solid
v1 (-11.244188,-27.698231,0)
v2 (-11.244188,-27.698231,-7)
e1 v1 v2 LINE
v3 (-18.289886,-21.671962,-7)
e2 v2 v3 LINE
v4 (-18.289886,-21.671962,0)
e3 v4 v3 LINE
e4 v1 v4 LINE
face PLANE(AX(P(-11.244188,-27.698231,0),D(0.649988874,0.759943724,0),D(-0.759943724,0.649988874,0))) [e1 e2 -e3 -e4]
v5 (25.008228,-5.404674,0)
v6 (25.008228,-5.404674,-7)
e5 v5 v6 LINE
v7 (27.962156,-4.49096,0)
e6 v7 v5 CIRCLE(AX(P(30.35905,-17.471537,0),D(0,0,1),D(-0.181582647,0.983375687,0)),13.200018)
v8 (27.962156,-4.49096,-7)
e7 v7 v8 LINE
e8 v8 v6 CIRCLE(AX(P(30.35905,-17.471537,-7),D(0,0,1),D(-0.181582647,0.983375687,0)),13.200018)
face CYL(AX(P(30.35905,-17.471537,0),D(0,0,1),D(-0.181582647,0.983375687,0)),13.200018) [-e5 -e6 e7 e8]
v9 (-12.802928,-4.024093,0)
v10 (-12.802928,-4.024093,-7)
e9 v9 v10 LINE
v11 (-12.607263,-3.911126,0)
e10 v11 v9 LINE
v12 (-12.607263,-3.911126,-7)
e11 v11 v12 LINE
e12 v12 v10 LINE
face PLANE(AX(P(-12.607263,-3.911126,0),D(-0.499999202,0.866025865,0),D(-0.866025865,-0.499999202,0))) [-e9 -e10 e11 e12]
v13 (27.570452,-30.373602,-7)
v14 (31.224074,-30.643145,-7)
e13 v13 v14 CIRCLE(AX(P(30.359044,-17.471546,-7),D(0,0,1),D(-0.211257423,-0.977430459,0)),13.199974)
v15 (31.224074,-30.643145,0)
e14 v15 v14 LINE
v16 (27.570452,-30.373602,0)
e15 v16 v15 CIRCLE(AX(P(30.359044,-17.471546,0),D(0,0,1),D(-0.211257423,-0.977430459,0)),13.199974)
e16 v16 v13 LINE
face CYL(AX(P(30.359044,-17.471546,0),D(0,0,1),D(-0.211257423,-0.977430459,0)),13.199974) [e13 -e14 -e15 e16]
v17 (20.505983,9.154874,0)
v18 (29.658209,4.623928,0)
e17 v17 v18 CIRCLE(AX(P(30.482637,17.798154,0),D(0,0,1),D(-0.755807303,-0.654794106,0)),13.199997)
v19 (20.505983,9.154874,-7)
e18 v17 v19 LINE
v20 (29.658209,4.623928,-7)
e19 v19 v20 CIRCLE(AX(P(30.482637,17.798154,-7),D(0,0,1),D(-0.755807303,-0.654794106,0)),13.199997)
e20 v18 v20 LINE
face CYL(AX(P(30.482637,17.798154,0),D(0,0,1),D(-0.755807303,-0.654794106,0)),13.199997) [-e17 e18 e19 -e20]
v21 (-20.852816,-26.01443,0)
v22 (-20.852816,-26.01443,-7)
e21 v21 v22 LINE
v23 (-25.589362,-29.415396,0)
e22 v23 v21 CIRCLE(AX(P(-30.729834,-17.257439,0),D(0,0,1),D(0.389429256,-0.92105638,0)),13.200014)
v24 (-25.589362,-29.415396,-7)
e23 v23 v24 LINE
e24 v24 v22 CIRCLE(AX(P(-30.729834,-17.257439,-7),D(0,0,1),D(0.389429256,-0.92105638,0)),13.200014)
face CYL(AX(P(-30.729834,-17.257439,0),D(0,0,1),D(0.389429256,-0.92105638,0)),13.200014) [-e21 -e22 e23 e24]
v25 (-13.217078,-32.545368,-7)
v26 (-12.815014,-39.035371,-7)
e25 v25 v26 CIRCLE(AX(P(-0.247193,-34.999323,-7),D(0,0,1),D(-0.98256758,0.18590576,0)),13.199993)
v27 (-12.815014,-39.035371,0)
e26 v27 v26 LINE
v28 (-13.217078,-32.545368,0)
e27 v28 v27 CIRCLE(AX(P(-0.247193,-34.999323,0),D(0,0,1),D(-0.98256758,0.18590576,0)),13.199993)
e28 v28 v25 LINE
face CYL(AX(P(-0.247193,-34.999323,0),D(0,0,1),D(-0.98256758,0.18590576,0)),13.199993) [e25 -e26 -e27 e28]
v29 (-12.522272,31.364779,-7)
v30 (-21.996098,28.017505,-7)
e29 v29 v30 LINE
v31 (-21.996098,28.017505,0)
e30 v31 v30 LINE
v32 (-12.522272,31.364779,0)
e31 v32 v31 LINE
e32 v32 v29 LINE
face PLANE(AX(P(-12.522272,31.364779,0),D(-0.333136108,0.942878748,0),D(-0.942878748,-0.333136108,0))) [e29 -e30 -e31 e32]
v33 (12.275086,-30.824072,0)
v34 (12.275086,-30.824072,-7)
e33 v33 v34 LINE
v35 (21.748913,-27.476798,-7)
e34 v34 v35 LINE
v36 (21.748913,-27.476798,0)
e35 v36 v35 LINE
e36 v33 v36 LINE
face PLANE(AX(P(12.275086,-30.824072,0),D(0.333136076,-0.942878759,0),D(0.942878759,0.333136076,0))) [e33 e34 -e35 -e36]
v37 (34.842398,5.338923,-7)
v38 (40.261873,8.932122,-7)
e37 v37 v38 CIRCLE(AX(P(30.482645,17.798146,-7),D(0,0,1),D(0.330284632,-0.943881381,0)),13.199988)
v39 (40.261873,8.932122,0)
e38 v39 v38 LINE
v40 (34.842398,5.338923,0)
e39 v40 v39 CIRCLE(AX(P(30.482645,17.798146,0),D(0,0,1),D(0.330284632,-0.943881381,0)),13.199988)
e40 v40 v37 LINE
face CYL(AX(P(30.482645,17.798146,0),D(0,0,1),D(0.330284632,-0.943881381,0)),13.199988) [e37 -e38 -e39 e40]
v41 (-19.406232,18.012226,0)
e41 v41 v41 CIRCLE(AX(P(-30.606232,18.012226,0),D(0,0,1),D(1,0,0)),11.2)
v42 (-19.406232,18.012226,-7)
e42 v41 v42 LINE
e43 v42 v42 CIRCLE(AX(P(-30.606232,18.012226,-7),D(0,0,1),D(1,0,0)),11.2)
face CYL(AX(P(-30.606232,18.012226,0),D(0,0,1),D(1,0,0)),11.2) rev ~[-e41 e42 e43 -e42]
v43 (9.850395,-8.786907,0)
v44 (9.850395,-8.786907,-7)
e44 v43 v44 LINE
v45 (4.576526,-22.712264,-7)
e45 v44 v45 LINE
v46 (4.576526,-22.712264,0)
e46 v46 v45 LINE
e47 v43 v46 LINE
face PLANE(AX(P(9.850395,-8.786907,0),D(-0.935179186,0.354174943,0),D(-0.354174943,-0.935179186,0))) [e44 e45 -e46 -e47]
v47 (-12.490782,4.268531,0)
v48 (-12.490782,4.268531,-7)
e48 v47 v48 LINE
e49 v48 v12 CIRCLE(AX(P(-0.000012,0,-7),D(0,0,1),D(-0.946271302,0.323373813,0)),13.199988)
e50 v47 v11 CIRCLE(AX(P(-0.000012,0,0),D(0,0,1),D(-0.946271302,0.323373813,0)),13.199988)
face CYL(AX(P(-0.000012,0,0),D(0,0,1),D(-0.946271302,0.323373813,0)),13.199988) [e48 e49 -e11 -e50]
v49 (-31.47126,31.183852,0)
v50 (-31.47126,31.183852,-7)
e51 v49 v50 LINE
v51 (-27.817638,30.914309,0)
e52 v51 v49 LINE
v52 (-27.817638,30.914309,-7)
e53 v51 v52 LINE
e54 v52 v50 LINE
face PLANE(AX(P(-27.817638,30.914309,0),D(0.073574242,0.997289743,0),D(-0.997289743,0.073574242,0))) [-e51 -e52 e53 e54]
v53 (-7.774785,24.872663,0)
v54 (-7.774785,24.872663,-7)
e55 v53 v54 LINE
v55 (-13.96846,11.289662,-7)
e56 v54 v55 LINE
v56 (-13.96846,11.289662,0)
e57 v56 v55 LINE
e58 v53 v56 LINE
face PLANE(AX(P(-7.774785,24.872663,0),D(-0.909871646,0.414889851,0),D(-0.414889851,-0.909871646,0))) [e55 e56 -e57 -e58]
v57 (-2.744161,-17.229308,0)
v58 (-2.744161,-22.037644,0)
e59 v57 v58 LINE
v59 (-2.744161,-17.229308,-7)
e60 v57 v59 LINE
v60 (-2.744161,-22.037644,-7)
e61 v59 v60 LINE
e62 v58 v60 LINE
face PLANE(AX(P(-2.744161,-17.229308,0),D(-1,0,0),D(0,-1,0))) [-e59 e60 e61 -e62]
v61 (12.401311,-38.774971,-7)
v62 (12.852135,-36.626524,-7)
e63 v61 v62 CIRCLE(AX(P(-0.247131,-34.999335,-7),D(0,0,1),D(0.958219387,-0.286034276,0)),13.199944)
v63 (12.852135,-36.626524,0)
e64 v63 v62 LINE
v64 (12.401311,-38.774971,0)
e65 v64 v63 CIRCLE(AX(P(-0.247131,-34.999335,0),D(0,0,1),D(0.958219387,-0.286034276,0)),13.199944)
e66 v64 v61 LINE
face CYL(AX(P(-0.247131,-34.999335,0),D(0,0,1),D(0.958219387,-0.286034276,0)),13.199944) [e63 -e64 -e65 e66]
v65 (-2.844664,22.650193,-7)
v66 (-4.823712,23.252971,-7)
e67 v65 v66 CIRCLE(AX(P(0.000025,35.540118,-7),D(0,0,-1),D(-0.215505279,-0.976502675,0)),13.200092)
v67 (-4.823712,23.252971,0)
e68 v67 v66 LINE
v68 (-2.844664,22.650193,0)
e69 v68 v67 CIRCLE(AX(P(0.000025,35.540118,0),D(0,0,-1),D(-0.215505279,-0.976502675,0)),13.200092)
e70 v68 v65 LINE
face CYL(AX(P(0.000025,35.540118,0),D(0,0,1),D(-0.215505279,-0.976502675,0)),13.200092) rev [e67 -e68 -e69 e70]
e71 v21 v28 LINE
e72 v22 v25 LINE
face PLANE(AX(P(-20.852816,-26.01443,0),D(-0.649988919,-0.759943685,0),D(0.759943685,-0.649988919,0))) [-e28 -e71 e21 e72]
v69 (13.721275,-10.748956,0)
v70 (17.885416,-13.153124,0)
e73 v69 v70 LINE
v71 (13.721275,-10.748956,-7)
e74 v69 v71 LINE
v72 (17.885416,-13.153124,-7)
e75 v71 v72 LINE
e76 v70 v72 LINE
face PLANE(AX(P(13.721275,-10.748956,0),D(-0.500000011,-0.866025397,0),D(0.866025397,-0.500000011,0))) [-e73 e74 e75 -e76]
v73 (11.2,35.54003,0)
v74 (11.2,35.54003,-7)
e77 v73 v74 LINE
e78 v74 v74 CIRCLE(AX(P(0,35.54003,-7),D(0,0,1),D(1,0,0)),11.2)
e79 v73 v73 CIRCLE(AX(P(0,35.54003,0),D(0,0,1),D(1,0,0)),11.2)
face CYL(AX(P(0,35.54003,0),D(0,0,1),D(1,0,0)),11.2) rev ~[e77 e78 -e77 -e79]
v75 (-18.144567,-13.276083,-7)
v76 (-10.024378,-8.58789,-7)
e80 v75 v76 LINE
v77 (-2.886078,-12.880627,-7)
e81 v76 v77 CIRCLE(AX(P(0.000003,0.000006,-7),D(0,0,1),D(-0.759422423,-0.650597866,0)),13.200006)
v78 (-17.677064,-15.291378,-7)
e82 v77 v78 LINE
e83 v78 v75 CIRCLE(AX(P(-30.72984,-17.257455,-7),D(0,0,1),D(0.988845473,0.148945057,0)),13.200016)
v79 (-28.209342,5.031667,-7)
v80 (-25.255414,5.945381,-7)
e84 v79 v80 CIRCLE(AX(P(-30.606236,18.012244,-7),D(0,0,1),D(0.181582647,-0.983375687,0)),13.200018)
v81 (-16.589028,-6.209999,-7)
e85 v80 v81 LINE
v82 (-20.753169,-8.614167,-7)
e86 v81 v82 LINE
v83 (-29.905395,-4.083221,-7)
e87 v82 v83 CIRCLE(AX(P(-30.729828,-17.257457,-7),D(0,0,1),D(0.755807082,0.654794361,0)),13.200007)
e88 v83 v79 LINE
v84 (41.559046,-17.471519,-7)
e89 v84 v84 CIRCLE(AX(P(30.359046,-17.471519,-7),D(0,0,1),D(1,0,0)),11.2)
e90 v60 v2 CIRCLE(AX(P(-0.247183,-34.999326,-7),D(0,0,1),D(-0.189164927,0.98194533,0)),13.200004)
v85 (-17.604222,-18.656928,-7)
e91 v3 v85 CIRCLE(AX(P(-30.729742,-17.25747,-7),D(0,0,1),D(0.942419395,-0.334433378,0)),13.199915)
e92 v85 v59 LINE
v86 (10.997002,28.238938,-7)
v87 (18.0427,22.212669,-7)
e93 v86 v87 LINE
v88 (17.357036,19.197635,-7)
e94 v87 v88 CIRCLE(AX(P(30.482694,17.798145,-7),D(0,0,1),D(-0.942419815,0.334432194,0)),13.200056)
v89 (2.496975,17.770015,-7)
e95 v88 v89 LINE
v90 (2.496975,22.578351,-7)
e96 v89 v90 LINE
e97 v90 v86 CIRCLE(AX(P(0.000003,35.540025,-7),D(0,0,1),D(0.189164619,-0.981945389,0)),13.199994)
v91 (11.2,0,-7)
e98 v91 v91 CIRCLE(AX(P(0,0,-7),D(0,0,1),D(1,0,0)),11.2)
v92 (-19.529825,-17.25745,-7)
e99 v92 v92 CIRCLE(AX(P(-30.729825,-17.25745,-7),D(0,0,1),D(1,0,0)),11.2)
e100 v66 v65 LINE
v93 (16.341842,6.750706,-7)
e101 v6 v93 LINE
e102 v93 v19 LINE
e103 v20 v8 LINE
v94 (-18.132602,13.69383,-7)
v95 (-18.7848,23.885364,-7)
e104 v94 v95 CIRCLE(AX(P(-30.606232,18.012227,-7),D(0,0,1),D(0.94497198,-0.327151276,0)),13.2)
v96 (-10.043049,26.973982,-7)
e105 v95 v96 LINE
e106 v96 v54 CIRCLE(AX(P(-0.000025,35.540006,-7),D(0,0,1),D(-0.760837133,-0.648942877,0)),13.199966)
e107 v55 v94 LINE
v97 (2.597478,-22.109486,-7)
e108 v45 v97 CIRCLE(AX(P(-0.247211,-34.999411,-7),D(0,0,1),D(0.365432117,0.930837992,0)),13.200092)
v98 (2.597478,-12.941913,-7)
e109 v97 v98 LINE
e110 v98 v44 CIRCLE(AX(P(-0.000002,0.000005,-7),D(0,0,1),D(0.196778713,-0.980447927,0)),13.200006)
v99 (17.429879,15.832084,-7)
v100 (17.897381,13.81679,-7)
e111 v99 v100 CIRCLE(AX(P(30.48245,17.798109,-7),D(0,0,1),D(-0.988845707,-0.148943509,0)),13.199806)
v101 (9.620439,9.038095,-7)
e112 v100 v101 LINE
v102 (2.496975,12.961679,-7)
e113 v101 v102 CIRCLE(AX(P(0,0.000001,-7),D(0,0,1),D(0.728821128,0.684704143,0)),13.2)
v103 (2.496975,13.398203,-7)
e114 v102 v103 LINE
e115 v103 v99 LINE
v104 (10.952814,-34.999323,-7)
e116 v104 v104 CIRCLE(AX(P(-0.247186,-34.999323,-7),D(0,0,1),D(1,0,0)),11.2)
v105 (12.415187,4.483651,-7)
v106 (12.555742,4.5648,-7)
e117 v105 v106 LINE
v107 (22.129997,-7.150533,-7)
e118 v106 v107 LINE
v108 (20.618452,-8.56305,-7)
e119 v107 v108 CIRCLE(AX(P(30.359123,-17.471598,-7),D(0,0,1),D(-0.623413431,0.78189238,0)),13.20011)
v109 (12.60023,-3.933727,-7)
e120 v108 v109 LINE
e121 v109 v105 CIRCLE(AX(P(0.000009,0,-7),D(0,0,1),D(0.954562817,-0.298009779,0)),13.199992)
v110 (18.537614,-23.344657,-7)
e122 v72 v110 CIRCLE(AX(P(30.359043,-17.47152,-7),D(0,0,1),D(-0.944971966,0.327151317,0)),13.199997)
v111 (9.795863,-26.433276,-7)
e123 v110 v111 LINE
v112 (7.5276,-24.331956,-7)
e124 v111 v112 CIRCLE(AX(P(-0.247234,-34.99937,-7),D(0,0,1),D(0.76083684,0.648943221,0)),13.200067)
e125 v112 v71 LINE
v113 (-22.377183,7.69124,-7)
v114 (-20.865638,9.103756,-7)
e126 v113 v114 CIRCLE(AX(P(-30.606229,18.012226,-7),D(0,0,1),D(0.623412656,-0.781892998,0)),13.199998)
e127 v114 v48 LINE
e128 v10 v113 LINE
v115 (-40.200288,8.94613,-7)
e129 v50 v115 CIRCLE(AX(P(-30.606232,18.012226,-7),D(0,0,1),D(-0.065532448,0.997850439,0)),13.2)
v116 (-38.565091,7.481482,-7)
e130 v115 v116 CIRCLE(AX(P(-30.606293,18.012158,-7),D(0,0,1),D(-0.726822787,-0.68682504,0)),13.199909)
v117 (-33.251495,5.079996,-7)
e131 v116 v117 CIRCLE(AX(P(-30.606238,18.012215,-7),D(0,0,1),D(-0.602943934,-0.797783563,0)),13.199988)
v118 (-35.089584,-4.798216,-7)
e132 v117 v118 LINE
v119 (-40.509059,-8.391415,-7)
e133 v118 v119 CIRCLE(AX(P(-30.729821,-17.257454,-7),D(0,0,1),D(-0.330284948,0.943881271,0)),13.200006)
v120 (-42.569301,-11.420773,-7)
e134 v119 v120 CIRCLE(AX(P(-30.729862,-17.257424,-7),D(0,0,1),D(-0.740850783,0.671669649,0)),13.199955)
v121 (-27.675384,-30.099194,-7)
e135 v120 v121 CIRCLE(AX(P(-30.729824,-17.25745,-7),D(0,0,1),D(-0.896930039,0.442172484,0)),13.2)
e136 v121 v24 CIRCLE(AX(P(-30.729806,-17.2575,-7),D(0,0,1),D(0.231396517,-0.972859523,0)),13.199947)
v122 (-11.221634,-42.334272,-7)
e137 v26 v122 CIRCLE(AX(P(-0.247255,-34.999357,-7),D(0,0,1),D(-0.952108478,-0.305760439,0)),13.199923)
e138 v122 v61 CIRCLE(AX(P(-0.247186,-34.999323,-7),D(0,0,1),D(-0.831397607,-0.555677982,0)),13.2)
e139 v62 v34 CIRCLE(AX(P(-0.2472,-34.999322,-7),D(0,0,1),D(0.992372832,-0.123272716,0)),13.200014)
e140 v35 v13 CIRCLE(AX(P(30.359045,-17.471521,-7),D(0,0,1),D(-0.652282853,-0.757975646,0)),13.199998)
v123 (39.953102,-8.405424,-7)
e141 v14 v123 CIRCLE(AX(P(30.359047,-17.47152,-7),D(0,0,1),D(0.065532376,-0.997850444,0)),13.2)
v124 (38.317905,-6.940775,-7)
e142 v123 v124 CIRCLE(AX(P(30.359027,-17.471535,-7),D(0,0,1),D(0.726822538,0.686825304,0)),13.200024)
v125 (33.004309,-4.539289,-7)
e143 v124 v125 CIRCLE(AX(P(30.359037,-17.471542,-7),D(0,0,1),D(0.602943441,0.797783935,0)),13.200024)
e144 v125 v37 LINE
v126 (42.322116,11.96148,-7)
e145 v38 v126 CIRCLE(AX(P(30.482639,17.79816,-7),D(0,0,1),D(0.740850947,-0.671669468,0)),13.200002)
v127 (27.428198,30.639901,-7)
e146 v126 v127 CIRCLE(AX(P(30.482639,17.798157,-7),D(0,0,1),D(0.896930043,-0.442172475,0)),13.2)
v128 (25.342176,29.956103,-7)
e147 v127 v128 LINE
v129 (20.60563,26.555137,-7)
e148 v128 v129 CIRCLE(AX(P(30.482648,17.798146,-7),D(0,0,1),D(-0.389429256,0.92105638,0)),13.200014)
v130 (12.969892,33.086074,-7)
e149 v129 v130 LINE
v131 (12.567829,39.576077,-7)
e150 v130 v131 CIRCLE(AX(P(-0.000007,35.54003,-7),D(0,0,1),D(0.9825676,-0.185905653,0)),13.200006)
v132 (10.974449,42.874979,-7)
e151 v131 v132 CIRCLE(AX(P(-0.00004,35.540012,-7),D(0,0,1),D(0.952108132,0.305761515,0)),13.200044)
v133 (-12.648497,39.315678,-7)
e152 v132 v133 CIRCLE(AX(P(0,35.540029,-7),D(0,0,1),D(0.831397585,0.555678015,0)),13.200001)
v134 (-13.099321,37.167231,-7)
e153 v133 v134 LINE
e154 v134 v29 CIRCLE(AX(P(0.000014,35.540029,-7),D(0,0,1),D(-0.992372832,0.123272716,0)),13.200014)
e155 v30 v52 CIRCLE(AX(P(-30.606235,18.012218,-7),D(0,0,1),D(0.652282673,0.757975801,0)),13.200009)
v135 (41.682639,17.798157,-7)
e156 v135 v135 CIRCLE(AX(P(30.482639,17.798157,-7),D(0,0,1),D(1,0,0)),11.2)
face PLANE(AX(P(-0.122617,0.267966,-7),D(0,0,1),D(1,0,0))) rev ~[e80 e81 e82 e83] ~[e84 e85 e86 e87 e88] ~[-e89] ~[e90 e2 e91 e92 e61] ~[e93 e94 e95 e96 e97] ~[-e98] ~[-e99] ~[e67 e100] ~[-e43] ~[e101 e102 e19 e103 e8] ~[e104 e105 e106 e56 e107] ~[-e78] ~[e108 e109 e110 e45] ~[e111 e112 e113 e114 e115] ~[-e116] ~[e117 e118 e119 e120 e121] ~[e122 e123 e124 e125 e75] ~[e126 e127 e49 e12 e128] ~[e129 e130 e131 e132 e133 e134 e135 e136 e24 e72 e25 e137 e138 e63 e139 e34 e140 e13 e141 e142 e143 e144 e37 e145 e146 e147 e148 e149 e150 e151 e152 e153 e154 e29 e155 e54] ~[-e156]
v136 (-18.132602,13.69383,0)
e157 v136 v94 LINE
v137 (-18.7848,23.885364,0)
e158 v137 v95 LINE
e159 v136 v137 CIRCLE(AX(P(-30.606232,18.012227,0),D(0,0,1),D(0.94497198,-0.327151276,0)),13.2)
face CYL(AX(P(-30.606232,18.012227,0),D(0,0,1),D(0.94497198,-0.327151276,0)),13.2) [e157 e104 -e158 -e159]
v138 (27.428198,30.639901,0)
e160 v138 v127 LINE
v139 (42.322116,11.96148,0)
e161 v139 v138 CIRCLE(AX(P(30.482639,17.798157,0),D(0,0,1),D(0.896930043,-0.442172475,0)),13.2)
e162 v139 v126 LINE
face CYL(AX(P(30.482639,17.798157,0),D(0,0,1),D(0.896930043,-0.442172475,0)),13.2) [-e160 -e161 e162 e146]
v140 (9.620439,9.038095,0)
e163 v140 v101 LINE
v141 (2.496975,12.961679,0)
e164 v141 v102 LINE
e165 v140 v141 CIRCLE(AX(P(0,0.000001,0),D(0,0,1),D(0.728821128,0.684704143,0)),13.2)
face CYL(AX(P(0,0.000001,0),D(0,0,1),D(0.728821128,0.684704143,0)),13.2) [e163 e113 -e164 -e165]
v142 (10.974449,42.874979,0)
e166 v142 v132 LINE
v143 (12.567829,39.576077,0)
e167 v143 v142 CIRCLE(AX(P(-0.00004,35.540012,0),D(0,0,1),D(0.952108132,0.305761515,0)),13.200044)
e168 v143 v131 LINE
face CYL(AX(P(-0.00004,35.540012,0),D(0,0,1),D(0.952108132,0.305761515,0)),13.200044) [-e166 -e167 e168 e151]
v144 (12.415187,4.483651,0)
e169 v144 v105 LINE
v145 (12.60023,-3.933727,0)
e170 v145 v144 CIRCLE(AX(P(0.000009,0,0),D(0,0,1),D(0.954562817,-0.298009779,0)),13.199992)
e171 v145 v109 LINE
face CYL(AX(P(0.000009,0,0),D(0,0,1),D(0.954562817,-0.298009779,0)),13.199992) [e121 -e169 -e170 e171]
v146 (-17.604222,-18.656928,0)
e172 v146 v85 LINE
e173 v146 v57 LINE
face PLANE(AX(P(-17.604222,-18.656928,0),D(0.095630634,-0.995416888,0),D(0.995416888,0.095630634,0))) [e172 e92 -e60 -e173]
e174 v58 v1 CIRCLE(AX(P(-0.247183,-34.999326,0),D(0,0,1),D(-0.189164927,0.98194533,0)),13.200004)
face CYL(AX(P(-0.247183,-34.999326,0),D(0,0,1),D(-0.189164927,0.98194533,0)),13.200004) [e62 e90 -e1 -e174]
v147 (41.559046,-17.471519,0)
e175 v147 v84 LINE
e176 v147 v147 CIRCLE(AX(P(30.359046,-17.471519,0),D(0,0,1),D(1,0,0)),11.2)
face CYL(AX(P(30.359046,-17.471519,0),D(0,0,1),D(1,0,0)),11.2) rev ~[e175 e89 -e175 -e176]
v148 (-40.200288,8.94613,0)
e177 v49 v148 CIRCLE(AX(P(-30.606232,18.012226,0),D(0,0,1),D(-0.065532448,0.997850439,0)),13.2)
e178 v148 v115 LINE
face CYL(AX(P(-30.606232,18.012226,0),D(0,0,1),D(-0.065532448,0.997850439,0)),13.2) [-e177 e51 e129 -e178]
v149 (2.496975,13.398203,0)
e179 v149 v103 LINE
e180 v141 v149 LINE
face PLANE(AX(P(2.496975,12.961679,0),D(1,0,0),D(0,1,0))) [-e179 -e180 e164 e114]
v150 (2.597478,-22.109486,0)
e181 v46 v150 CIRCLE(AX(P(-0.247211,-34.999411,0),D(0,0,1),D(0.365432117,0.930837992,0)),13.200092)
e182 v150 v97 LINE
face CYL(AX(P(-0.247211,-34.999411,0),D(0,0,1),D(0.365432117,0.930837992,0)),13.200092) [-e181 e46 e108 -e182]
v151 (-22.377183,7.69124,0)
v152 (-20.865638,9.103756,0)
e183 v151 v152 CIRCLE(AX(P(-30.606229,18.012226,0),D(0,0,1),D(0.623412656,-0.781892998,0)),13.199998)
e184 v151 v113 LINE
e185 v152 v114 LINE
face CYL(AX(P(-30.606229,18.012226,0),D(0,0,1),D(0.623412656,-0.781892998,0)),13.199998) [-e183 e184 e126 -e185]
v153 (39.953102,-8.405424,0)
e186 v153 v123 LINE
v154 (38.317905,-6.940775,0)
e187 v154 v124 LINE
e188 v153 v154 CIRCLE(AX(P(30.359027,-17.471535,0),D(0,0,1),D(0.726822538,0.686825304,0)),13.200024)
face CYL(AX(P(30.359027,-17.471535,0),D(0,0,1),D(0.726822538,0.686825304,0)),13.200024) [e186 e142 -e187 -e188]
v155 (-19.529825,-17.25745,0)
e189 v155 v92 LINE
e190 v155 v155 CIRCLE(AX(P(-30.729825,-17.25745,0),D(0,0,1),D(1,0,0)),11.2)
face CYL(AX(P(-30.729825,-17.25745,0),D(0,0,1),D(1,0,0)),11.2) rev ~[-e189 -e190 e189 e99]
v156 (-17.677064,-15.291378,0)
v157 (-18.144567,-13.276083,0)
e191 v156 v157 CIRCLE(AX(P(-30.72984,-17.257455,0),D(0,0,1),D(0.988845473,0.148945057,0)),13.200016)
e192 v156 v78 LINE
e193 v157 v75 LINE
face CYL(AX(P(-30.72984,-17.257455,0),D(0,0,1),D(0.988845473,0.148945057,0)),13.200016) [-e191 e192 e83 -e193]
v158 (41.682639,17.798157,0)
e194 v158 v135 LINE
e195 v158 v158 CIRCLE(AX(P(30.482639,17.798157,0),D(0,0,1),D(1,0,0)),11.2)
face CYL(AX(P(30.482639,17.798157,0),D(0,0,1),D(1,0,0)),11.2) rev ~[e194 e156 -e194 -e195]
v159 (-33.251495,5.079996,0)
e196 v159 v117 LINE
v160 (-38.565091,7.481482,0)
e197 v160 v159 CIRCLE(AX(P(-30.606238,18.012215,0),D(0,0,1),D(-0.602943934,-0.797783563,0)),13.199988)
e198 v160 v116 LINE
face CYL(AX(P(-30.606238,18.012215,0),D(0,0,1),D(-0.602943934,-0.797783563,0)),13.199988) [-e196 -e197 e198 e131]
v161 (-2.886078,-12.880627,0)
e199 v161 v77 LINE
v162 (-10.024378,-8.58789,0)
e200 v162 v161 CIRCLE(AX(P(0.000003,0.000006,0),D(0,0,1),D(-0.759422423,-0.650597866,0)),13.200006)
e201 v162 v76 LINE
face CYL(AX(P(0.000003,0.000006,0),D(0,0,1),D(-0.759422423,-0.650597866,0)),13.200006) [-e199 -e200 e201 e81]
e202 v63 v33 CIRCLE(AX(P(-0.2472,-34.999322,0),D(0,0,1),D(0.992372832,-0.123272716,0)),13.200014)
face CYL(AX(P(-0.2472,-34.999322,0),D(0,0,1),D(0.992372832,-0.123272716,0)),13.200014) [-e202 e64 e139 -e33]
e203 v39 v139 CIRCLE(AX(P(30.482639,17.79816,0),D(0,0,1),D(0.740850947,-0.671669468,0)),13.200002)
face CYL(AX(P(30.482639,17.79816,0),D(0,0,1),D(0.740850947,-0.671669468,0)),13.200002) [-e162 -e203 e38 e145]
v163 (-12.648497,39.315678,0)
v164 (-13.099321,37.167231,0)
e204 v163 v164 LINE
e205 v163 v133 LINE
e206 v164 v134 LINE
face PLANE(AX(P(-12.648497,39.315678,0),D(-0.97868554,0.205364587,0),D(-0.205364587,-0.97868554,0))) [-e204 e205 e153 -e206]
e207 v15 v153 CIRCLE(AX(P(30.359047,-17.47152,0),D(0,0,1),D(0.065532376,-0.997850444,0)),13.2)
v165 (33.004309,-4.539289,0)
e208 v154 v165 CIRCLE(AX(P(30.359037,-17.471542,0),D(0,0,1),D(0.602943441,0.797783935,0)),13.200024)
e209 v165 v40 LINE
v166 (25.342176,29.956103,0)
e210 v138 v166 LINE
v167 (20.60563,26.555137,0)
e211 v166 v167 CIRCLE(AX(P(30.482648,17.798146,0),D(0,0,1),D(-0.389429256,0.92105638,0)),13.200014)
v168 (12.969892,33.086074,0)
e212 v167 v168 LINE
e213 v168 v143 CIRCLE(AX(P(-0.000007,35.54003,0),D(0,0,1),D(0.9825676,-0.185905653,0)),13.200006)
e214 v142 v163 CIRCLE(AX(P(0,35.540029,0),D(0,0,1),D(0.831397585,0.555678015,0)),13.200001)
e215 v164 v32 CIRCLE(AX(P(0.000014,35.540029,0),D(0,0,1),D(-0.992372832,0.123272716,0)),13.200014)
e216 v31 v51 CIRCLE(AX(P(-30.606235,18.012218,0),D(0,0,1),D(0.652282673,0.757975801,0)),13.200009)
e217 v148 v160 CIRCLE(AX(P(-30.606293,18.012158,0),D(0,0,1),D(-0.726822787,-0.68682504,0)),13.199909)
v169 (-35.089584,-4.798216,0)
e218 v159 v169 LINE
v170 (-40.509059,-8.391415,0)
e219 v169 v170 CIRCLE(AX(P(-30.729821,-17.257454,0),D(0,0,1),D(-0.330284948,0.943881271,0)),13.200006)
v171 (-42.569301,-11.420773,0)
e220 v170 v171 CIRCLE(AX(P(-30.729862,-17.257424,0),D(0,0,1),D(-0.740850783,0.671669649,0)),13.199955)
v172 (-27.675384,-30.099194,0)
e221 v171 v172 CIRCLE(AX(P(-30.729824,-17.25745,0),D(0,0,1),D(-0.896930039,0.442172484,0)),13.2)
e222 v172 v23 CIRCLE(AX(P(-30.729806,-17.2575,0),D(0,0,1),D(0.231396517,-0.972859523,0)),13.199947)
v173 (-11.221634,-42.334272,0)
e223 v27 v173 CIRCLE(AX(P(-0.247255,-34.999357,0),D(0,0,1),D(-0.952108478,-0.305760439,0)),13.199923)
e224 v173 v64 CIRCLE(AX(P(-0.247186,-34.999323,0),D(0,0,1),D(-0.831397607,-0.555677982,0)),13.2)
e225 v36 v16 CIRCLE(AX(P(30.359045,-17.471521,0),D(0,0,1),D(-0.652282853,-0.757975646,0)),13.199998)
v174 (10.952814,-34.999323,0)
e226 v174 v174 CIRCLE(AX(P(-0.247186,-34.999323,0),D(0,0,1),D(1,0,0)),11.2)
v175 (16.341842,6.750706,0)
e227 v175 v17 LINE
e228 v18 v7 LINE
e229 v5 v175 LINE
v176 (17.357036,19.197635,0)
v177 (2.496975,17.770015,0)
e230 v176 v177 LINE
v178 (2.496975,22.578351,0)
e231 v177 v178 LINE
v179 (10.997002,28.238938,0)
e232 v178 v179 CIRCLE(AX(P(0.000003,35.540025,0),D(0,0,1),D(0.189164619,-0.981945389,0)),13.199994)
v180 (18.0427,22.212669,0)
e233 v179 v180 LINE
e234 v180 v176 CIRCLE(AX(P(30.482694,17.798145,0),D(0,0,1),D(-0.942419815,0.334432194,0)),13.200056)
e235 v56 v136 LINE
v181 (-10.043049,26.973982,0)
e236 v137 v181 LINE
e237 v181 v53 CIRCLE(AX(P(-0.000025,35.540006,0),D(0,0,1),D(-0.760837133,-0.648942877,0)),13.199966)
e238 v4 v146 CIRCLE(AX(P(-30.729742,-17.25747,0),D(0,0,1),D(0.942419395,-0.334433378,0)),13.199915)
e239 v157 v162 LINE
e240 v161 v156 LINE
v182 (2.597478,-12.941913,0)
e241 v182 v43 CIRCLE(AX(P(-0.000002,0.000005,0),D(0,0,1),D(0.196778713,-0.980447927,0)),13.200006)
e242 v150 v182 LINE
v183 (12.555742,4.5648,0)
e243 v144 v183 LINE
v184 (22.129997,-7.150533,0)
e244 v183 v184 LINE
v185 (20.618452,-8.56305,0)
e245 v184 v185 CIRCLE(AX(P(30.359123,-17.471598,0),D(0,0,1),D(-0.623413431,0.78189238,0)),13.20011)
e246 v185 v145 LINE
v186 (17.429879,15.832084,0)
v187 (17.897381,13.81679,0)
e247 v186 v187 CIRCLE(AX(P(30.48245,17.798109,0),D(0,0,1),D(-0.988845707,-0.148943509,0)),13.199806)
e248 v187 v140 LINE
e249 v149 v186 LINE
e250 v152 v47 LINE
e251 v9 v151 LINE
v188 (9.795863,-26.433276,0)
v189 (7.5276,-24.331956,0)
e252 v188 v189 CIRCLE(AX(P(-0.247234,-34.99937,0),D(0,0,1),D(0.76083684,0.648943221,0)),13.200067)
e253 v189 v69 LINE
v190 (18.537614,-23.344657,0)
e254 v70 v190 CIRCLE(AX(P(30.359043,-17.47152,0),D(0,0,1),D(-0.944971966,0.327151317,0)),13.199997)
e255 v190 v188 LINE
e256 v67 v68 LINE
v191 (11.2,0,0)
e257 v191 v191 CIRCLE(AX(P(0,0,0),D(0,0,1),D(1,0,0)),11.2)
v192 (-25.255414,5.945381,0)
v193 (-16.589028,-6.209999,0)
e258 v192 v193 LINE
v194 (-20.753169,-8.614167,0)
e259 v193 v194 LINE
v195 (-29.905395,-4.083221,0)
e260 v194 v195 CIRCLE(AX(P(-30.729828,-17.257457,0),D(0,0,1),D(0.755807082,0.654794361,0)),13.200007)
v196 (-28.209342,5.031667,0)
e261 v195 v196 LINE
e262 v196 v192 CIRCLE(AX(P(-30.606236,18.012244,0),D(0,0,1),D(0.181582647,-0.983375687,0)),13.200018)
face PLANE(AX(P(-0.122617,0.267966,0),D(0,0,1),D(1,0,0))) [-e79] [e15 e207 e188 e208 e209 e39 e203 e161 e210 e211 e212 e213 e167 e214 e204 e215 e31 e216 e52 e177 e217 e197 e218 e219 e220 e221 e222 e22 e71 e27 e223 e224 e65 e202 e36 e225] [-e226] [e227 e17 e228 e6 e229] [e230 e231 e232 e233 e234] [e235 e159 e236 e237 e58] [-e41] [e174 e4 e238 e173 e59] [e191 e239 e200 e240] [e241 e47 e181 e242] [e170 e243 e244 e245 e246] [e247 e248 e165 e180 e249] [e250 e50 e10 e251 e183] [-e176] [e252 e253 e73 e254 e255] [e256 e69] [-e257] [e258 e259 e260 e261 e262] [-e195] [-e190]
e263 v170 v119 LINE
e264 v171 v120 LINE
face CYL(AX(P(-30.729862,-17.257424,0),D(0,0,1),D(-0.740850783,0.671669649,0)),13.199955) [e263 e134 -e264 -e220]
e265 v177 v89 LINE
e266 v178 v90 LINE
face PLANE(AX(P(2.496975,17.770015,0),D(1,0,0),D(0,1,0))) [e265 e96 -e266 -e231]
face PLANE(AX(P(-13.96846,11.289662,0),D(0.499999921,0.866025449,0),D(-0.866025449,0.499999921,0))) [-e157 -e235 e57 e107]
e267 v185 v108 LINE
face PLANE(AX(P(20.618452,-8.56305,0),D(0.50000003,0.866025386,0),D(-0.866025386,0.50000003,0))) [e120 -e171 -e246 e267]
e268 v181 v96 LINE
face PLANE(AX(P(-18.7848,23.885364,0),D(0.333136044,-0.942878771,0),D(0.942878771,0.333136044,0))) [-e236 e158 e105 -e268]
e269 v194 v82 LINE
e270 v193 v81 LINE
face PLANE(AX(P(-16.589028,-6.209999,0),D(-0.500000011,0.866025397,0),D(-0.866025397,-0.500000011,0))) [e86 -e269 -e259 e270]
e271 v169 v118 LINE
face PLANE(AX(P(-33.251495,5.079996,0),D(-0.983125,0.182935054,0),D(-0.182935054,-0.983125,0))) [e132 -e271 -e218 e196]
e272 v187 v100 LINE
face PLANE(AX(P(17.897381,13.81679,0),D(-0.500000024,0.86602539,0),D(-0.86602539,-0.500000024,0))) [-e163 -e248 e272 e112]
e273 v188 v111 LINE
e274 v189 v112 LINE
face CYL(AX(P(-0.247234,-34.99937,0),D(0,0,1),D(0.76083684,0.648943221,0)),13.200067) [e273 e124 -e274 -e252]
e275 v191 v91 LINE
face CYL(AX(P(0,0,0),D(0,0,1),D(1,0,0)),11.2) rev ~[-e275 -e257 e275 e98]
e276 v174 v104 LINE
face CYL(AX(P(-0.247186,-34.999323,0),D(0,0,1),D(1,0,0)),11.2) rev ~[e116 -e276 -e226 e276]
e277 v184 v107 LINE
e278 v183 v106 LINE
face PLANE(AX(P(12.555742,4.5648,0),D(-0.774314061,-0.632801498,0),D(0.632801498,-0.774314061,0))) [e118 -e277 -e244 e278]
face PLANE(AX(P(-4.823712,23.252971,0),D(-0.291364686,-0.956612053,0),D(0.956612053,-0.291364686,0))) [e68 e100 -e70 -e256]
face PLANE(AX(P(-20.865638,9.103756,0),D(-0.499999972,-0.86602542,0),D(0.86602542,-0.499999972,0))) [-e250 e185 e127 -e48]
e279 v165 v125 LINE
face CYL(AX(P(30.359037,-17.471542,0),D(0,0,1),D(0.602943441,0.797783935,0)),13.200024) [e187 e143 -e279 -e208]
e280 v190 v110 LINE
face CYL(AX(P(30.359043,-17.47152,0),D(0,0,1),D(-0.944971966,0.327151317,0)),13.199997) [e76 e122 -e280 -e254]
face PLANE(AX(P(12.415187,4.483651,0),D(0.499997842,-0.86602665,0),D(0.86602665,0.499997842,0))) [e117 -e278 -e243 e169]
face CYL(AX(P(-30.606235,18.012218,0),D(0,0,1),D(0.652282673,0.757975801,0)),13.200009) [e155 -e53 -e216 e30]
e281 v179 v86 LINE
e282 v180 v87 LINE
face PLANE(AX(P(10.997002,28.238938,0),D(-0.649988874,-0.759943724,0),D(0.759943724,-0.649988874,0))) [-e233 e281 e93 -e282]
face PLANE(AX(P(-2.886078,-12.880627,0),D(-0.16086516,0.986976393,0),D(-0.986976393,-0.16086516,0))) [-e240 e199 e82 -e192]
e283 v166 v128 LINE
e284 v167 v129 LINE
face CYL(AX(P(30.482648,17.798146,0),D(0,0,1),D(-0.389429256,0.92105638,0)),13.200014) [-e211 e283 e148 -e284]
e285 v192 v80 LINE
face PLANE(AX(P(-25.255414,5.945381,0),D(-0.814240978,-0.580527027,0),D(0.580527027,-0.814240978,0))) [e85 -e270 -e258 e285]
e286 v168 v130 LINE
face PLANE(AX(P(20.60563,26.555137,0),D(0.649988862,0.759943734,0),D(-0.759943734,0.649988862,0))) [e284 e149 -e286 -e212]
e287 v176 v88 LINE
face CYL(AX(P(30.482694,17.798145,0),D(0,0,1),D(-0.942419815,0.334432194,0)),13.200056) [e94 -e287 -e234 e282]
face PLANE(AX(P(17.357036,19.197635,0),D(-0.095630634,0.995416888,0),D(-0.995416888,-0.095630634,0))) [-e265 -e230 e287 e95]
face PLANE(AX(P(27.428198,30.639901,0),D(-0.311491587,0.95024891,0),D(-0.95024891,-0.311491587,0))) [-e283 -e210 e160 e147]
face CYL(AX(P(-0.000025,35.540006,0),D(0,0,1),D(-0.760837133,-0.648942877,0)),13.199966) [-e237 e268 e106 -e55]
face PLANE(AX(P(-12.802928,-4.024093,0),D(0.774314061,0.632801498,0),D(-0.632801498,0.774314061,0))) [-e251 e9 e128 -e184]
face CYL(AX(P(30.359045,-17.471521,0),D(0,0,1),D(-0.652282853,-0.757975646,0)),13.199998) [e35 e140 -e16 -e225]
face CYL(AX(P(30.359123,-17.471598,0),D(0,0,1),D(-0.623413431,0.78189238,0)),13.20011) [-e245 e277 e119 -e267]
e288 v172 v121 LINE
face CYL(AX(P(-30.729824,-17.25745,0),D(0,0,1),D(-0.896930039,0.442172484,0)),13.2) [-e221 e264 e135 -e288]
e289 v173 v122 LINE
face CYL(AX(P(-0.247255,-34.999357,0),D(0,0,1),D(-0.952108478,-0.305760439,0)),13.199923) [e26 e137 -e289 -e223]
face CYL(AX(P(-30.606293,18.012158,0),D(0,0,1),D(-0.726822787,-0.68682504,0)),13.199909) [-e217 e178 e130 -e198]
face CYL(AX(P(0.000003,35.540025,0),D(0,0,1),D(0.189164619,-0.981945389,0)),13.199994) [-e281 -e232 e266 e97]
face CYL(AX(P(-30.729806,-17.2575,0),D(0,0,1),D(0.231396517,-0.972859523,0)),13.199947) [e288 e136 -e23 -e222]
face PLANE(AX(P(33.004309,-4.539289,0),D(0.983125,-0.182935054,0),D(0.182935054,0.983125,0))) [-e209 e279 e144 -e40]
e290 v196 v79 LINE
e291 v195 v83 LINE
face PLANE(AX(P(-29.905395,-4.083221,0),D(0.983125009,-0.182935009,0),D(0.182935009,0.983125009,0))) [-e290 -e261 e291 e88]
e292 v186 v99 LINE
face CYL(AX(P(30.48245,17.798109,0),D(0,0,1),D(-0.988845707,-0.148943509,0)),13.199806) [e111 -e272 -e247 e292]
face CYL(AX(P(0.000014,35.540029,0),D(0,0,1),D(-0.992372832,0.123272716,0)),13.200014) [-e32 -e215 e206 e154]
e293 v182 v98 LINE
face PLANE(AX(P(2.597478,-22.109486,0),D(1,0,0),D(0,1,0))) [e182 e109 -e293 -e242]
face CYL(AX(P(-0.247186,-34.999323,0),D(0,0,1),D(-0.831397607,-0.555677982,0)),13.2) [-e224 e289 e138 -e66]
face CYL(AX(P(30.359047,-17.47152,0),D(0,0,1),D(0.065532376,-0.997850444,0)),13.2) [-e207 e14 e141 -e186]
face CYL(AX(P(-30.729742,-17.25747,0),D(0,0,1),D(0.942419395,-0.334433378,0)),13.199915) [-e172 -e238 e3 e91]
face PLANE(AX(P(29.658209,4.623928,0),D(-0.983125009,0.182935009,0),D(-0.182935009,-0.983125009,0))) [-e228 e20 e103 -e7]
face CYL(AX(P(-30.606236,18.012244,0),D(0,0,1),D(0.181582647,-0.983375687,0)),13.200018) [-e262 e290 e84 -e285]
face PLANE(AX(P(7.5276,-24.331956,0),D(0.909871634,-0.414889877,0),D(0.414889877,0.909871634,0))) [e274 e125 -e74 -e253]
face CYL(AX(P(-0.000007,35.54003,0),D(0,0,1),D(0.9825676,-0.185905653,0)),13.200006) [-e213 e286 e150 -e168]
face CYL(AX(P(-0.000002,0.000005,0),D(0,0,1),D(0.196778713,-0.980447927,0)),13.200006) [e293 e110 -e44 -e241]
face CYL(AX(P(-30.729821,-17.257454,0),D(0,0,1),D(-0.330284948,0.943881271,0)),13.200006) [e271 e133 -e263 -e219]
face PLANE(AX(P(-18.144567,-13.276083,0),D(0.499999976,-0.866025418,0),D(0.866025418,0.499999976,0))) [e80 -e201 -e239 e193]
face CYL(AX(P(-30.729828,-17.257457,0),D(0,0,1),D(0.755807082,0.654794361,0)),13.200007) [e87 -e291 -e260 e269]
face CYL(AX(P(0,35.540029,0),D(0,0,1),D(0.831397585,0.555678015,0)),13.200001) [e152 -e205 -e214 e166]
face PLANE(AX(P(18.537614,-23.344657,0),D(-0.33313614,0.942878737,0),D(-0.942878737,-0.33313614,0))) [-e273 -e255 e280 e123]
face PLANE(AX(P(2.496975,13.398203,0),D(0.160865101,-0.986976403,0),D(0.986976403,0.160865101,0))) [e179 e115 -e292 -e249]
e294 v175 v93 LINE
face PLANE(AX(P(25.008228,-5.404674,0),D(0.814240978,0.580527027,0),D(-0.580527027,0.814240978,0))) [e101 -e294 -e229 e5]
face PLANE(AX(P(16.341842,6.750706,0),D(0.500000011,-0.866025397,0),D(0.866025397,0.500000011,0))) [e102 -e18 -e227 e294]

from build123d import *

# Parameters (mm, degrees)
F0_R     = 11.2
F1_DEPTH = 7


with BuildPart() as f1:
    # F0 (on Top) → F1 (new body)
    with BuildSketch(Plane.XY):
        with BuildLine():
            Line((20.60563, 26.555137), (12.969892, 33.086074))
            ThreePointArc((12.969892, 33.086074), (13.174742, 36.356221), (12.567829, 39.576077))
            ThreePointArc((12.567829, 39.576077), (11.886143, 41.281075), (10.974449, 42.874979))
            ThreePointArc((10.974449, 42.874979), (-1.966663, 48.592701), (-12.648497, 39.315678))
            Line((-12.648497, 39.315678), (-13.099321, 37.167231))
            ThreePointArc((-13.099321, 37.167231), (-13.135205, 34.233743), (-12.522272, 31.364779))
            Line((-12.522272, 31.364779), (-21.996098, 28.017505))
            ThreePointArc((-21.996098, 28.017505), (-24.725703, 29.829983), (-27.817638, 30.914309))
            Line((-27.817638, 30.914309), (-31.47126, 31.183852))
            ThreePointArc((-31.47126, 31.183852), (-42.893509, 22.835381), (-40.200288, 8.94613))
            ThreePointArc((-40.200288, 8.94613), (-39.41319, 8.179754), (-38.565091, 7.481482))
            ThreePointArc((-38.565091, 7.481482), (-36.042557, 5.983661), (-33.251495, 5.079996))
            Line((-33.251495, 5.079996), (-35.089584, -4.798216))
            ThreePointArc((-35.089584, -4.798216), (-38.024038, -6.255884), (-40.509059, -8.391415))
            ThreePointArc((-40.509059, -8.391415), (-41.644788, -9.834271), (-42.569301, -11.420773))
            ThreePointArc((-42.569301, -11.420773), (-41.050438, -25.486966), (-27.675384, -30.099194))
            ThreePointArc((-27.675384, -30.099194), (-26.618133, -29.800735), (-25.589362, -29.415396))
            ThreePointArc((-25.589362, -29.415396), (-23.030945, -27.979728), (-20.852816, -26.01443))
            Line((-20.852816, -26.01443), (-13.217078, -32.545368))
            ThreePointArc((-13.217078, -32.545368), (-13.421928, -35.815514), (-12.815014, -39.035371))
            ThreePointArc((-12.815014, -39.035371), (-12.133329, -40.740369), (-11.221634, -42.334272))
            ThreePointArc((-11.221634, -42.334272), (1.719478, -48.051994), (12.401311, -38.774971))
            ThreePointArc((12.401311, -38.774971), (12.671463, -37.710136), (12.852135, -36.626524))
            ThreePointArc((12.852135, -36.626524), (12.888019, -33.693036), (12.275086, -30.824072))
            Line((12.275086, -30.824072), (21.748913, -27.476798))
            ThreePointArc((21.748913, -27.476798), (24.478517, -29.289276), (27.570452, -30.373602))
            ThreePointArc((27.570452, -30.373602), (29.387866, -30.635744), (31.224074, -30.643145))
            ThreePointArc((31.224074, -30.643145), (42.646323, -22.294675), (39.953102, -8.405424))
            ThreePointArc((39.953102, -8.405424), (39.166004, -7.639048), (38.317905, -6.940775))
            ThreePointArc((38.317905, -6.940775), (35.795371, -5.442955), (33.004309, -4.539289))
            Line((33.004309, -4.539289), (34.842398, 5.338923))
            ThreePointArc((34.842398, 5.338923), (37.776853, 6.796591), (40.261873, 8.932122))
            ThreePointArc((40.261873, 8.932122), (41.397602, 10.374978), (42.322116, 11.96148))
            ThreePointArc((42.322116, 11.96148), (40.803253, 26.027673), (27.428198, 30.639901))
            Line((27.428198, 30.639901), (25.342176, 29.956103))
            ThreePointArc((25.342176, 29.956103), (22.783759, 28.520435), (20.60563, 26.555137))
        make_face()
        with Locations((-0.247186, -34.999323)):
            Circle(F0_R, mode=Mode.SUBTRACT)
        with Locations((-30.729825, -17.25745)):
            Circle(F0_R, mode=Mode.SUBTRACT)
        with BuildLine():
            Line((-16.589028, -6.209999), (-20.753169, -8.614167))
            ThreePointArc((-20.753169, -8.614167), (-24.873356, -5.427752), (-29.905395, -4.083221))
            Line((-29.905395, -4.083221), (-28.209342, 5.031667))
            ThreePointArc((-28.209342, 5.031667), (-26.705532, 5.401733), (-25.255414, 5.945381))
            Line((-25.255414, 5.945381), (-16.589028, -6.209999))
        make_face(mode=Mode.SUBTRACT)
        with BuildLine():
            ThreePointArc((-2.744161, -22.037644), (-7.563771, -24.012623), (-11.244188, -27.698231))
            Line((-11.244188, -27.698231), (-18.289886, -21.671962))
            ThreePointArc((-18.289886, -21.671962), (-17.858467, -20.184591), (-17.604222, -18.656928))
            Line((-17.604222, -18.656928), (-2.744161, -17.229308))
            Line((-2.744161, -17.229308), (-2.744161, -22.037644))
        make_face(mode=Mode.SUBTRACT)
        with BuildLine():
            Line((-18.144567, -13.276083), (-10.024378, -8.58789))
            ThreePointArc((-10.024378, -8.58789), (-6.80271, -11.312079), (-2.886078, -12.880627))
            Line((-2.886078, -12.880627), (-17.677064, -15.291378))
            ThreePointArc((-17.677064, -15.291378), (-17.871273, -14.274558), (-18.144567, -13.276083))
        make_face(mode=Mode.SUBTRACT)
        with BuildLine():
            Line((2.597478, -22.109486), (2.597478, -12.941913))
            ThreePointArc((2.597478, -12.941913), (6.561509, -11.453672), (9.850395, -8.786907))
            Line((9.850395, -8.786907), (4.576526, -22.712264))
            ThreePointArc((4.576526, -22.712264), (3.598829, -22.372044), (2.597478, -22.109486))
        make_face(mode=Mode.SUBTRACT)
        with BuildLine():
            ThreePointArc((17.885416, -13.153124), (17.185992, -18.314518), (18.537614, -23.344657))
            Line((18.537614, -23.344657), (9.795863, -26.433276))
            ThreePointArc((9.795863, -26.433276), (8.723471, -25.315971), (7.5276, -24.331956))
            Line((7.5276, -24.331956), (13.721275, -10.748956))
            Line((13.721275, -10.748956), (17.885416, -13.153124))
        make_face(mode=Mode.SUBTRACT)
        Circle(F0_R, mode=Mode.SUBTRACT)
        with BuildLine():
            Line((20.618452, -8.56305), (12.60023, -3.933727))
            ThreePointArc((12.60023, -3.933727), (13.196812, 0.290111), (12.415187, 4.483651))
            Line((12.415187, 4.483651), (12.555742, 4.5648))
            Line((12.555742, 4.5648), (22.129997, -7.150533))
            ThreePointArc((22.129997, -7.150533), (21.34651, -7.827133), (20.618452, -8.56305))
        make_face(mode=Mode.SUBTRACT)
        with Locations((30.359046, -17.471519)):
            Circle(F0_R, mode=Mode.SUBTRACT)
        with Locations((-30.606232, 18.012226)):
            Circle(F0_R, mode=Mode.SUBTRACT)
        with BuildLine():
            Line((-20.865638, 9.103756), (-12.490782, 4.268531))
            ThreePointArc((-12.490782, 4.268531), (-13.198662, 0.187953), (-12.607263, -3.911126))
            Line((-12.607263, -3.911126), (-12.802928, -4.024093))
            Line((-12.802928, -4.024093), (-22.377183, 7.69124))
            ThreePointArc((-22.377183, 7.69124), (-21.593695, 8.36784), (-20.865638, 9.103756))
        make_face(mode=Mode.SUBTRACT)
        with BuildLine():
            ThreePointArc((-10.043049, 26.973982), (-8.970657, 25.856677), (-7.774785, 24.872663))
            Line((-7.774785, 24.872663), (-13.96846, 11.289662))
            Line((-13.96846, 11.289662), (-18.132602, 13.69383))
            ThreePointArc((-18.132602, 13.69383), (-17.433178, 18.855224), (-18.7848, 23.885364))
            Line((-18.7848, 23.885364), (-10.043049, 26.973982))
        make_face(mode=Mode.SUBTRACT)
        with BuildLine():
            Line((-4.823712, 23.252971), (-2.844664, 22.650193))
            ThreePointArc((-2.844664, 22.650193), (-3.846015, 22.912751), (-4.823712, 23.252971))
        make_face(mode=Mode.SUBTRACT)
        with BuildLine():
            Line((17.897381, 13.81679), (9.620439, 9.038095))
            ThreePointArc((9.620439, 9.038095), (6.368403, 11.562156), (2.496975, 12.961679))
            Line((2.496975, 12.961679), (2.496975, 13.398203))
            Line((2.496975, 13.398203), (17.429879, 15.832084))
            ThreePointArc((17.429879, 15.832084), (17.624087, 14.815264), (17.897381, 13.81679))
        make_face(mode=Mode.SUBTRACT)
        with BuildLine():
            ThreePointArc((2.496975, 22.578351), (7.316585, 24.553329), (10.997002, 28.238938))
            Line((10.997002, 28.238938), (18.0427, 22.212669))
            ThreePointArc((18.0427, 22.212669), (17.611282, 20.725298), (17.357036, 19.197635))
            Line((17.357036, 19.197635), (2.496975, 17.770015))
            Line((2.496975, 17.770015), (2.496975, 22.578351))
        make_face(mode=Mode.SUBTRACT)
        with BuildLine():
            Line((29.658209, 4.623928), (27.962156, -4.49096))
            ThreePointArc((27.962156, -4.49096), (26.458346, -4.861026), (25.008228, -5.404674))
            Line((25.008228, -5.404674), (16.341842, 6.750706))
            Line((16.341842, 6.750706), (20.505983, 9.154874))
            ThreePointArc((20.505983, 9.154874), (24.62617, 5.968458), (29.658209, 4.623928))
        make_face(mode=Mode.SUBTRACT)
        with Locations((30.482639, 17.798157)):
            Circle(F0_R, mode=Mode.SUBTRACT)
        with Locations((0, 35.54003)):
            Circle(F0_R, mode=Mode.SUBTRACT)
    extrude(amount=-F1_DEPTH)


solid = f1.part
